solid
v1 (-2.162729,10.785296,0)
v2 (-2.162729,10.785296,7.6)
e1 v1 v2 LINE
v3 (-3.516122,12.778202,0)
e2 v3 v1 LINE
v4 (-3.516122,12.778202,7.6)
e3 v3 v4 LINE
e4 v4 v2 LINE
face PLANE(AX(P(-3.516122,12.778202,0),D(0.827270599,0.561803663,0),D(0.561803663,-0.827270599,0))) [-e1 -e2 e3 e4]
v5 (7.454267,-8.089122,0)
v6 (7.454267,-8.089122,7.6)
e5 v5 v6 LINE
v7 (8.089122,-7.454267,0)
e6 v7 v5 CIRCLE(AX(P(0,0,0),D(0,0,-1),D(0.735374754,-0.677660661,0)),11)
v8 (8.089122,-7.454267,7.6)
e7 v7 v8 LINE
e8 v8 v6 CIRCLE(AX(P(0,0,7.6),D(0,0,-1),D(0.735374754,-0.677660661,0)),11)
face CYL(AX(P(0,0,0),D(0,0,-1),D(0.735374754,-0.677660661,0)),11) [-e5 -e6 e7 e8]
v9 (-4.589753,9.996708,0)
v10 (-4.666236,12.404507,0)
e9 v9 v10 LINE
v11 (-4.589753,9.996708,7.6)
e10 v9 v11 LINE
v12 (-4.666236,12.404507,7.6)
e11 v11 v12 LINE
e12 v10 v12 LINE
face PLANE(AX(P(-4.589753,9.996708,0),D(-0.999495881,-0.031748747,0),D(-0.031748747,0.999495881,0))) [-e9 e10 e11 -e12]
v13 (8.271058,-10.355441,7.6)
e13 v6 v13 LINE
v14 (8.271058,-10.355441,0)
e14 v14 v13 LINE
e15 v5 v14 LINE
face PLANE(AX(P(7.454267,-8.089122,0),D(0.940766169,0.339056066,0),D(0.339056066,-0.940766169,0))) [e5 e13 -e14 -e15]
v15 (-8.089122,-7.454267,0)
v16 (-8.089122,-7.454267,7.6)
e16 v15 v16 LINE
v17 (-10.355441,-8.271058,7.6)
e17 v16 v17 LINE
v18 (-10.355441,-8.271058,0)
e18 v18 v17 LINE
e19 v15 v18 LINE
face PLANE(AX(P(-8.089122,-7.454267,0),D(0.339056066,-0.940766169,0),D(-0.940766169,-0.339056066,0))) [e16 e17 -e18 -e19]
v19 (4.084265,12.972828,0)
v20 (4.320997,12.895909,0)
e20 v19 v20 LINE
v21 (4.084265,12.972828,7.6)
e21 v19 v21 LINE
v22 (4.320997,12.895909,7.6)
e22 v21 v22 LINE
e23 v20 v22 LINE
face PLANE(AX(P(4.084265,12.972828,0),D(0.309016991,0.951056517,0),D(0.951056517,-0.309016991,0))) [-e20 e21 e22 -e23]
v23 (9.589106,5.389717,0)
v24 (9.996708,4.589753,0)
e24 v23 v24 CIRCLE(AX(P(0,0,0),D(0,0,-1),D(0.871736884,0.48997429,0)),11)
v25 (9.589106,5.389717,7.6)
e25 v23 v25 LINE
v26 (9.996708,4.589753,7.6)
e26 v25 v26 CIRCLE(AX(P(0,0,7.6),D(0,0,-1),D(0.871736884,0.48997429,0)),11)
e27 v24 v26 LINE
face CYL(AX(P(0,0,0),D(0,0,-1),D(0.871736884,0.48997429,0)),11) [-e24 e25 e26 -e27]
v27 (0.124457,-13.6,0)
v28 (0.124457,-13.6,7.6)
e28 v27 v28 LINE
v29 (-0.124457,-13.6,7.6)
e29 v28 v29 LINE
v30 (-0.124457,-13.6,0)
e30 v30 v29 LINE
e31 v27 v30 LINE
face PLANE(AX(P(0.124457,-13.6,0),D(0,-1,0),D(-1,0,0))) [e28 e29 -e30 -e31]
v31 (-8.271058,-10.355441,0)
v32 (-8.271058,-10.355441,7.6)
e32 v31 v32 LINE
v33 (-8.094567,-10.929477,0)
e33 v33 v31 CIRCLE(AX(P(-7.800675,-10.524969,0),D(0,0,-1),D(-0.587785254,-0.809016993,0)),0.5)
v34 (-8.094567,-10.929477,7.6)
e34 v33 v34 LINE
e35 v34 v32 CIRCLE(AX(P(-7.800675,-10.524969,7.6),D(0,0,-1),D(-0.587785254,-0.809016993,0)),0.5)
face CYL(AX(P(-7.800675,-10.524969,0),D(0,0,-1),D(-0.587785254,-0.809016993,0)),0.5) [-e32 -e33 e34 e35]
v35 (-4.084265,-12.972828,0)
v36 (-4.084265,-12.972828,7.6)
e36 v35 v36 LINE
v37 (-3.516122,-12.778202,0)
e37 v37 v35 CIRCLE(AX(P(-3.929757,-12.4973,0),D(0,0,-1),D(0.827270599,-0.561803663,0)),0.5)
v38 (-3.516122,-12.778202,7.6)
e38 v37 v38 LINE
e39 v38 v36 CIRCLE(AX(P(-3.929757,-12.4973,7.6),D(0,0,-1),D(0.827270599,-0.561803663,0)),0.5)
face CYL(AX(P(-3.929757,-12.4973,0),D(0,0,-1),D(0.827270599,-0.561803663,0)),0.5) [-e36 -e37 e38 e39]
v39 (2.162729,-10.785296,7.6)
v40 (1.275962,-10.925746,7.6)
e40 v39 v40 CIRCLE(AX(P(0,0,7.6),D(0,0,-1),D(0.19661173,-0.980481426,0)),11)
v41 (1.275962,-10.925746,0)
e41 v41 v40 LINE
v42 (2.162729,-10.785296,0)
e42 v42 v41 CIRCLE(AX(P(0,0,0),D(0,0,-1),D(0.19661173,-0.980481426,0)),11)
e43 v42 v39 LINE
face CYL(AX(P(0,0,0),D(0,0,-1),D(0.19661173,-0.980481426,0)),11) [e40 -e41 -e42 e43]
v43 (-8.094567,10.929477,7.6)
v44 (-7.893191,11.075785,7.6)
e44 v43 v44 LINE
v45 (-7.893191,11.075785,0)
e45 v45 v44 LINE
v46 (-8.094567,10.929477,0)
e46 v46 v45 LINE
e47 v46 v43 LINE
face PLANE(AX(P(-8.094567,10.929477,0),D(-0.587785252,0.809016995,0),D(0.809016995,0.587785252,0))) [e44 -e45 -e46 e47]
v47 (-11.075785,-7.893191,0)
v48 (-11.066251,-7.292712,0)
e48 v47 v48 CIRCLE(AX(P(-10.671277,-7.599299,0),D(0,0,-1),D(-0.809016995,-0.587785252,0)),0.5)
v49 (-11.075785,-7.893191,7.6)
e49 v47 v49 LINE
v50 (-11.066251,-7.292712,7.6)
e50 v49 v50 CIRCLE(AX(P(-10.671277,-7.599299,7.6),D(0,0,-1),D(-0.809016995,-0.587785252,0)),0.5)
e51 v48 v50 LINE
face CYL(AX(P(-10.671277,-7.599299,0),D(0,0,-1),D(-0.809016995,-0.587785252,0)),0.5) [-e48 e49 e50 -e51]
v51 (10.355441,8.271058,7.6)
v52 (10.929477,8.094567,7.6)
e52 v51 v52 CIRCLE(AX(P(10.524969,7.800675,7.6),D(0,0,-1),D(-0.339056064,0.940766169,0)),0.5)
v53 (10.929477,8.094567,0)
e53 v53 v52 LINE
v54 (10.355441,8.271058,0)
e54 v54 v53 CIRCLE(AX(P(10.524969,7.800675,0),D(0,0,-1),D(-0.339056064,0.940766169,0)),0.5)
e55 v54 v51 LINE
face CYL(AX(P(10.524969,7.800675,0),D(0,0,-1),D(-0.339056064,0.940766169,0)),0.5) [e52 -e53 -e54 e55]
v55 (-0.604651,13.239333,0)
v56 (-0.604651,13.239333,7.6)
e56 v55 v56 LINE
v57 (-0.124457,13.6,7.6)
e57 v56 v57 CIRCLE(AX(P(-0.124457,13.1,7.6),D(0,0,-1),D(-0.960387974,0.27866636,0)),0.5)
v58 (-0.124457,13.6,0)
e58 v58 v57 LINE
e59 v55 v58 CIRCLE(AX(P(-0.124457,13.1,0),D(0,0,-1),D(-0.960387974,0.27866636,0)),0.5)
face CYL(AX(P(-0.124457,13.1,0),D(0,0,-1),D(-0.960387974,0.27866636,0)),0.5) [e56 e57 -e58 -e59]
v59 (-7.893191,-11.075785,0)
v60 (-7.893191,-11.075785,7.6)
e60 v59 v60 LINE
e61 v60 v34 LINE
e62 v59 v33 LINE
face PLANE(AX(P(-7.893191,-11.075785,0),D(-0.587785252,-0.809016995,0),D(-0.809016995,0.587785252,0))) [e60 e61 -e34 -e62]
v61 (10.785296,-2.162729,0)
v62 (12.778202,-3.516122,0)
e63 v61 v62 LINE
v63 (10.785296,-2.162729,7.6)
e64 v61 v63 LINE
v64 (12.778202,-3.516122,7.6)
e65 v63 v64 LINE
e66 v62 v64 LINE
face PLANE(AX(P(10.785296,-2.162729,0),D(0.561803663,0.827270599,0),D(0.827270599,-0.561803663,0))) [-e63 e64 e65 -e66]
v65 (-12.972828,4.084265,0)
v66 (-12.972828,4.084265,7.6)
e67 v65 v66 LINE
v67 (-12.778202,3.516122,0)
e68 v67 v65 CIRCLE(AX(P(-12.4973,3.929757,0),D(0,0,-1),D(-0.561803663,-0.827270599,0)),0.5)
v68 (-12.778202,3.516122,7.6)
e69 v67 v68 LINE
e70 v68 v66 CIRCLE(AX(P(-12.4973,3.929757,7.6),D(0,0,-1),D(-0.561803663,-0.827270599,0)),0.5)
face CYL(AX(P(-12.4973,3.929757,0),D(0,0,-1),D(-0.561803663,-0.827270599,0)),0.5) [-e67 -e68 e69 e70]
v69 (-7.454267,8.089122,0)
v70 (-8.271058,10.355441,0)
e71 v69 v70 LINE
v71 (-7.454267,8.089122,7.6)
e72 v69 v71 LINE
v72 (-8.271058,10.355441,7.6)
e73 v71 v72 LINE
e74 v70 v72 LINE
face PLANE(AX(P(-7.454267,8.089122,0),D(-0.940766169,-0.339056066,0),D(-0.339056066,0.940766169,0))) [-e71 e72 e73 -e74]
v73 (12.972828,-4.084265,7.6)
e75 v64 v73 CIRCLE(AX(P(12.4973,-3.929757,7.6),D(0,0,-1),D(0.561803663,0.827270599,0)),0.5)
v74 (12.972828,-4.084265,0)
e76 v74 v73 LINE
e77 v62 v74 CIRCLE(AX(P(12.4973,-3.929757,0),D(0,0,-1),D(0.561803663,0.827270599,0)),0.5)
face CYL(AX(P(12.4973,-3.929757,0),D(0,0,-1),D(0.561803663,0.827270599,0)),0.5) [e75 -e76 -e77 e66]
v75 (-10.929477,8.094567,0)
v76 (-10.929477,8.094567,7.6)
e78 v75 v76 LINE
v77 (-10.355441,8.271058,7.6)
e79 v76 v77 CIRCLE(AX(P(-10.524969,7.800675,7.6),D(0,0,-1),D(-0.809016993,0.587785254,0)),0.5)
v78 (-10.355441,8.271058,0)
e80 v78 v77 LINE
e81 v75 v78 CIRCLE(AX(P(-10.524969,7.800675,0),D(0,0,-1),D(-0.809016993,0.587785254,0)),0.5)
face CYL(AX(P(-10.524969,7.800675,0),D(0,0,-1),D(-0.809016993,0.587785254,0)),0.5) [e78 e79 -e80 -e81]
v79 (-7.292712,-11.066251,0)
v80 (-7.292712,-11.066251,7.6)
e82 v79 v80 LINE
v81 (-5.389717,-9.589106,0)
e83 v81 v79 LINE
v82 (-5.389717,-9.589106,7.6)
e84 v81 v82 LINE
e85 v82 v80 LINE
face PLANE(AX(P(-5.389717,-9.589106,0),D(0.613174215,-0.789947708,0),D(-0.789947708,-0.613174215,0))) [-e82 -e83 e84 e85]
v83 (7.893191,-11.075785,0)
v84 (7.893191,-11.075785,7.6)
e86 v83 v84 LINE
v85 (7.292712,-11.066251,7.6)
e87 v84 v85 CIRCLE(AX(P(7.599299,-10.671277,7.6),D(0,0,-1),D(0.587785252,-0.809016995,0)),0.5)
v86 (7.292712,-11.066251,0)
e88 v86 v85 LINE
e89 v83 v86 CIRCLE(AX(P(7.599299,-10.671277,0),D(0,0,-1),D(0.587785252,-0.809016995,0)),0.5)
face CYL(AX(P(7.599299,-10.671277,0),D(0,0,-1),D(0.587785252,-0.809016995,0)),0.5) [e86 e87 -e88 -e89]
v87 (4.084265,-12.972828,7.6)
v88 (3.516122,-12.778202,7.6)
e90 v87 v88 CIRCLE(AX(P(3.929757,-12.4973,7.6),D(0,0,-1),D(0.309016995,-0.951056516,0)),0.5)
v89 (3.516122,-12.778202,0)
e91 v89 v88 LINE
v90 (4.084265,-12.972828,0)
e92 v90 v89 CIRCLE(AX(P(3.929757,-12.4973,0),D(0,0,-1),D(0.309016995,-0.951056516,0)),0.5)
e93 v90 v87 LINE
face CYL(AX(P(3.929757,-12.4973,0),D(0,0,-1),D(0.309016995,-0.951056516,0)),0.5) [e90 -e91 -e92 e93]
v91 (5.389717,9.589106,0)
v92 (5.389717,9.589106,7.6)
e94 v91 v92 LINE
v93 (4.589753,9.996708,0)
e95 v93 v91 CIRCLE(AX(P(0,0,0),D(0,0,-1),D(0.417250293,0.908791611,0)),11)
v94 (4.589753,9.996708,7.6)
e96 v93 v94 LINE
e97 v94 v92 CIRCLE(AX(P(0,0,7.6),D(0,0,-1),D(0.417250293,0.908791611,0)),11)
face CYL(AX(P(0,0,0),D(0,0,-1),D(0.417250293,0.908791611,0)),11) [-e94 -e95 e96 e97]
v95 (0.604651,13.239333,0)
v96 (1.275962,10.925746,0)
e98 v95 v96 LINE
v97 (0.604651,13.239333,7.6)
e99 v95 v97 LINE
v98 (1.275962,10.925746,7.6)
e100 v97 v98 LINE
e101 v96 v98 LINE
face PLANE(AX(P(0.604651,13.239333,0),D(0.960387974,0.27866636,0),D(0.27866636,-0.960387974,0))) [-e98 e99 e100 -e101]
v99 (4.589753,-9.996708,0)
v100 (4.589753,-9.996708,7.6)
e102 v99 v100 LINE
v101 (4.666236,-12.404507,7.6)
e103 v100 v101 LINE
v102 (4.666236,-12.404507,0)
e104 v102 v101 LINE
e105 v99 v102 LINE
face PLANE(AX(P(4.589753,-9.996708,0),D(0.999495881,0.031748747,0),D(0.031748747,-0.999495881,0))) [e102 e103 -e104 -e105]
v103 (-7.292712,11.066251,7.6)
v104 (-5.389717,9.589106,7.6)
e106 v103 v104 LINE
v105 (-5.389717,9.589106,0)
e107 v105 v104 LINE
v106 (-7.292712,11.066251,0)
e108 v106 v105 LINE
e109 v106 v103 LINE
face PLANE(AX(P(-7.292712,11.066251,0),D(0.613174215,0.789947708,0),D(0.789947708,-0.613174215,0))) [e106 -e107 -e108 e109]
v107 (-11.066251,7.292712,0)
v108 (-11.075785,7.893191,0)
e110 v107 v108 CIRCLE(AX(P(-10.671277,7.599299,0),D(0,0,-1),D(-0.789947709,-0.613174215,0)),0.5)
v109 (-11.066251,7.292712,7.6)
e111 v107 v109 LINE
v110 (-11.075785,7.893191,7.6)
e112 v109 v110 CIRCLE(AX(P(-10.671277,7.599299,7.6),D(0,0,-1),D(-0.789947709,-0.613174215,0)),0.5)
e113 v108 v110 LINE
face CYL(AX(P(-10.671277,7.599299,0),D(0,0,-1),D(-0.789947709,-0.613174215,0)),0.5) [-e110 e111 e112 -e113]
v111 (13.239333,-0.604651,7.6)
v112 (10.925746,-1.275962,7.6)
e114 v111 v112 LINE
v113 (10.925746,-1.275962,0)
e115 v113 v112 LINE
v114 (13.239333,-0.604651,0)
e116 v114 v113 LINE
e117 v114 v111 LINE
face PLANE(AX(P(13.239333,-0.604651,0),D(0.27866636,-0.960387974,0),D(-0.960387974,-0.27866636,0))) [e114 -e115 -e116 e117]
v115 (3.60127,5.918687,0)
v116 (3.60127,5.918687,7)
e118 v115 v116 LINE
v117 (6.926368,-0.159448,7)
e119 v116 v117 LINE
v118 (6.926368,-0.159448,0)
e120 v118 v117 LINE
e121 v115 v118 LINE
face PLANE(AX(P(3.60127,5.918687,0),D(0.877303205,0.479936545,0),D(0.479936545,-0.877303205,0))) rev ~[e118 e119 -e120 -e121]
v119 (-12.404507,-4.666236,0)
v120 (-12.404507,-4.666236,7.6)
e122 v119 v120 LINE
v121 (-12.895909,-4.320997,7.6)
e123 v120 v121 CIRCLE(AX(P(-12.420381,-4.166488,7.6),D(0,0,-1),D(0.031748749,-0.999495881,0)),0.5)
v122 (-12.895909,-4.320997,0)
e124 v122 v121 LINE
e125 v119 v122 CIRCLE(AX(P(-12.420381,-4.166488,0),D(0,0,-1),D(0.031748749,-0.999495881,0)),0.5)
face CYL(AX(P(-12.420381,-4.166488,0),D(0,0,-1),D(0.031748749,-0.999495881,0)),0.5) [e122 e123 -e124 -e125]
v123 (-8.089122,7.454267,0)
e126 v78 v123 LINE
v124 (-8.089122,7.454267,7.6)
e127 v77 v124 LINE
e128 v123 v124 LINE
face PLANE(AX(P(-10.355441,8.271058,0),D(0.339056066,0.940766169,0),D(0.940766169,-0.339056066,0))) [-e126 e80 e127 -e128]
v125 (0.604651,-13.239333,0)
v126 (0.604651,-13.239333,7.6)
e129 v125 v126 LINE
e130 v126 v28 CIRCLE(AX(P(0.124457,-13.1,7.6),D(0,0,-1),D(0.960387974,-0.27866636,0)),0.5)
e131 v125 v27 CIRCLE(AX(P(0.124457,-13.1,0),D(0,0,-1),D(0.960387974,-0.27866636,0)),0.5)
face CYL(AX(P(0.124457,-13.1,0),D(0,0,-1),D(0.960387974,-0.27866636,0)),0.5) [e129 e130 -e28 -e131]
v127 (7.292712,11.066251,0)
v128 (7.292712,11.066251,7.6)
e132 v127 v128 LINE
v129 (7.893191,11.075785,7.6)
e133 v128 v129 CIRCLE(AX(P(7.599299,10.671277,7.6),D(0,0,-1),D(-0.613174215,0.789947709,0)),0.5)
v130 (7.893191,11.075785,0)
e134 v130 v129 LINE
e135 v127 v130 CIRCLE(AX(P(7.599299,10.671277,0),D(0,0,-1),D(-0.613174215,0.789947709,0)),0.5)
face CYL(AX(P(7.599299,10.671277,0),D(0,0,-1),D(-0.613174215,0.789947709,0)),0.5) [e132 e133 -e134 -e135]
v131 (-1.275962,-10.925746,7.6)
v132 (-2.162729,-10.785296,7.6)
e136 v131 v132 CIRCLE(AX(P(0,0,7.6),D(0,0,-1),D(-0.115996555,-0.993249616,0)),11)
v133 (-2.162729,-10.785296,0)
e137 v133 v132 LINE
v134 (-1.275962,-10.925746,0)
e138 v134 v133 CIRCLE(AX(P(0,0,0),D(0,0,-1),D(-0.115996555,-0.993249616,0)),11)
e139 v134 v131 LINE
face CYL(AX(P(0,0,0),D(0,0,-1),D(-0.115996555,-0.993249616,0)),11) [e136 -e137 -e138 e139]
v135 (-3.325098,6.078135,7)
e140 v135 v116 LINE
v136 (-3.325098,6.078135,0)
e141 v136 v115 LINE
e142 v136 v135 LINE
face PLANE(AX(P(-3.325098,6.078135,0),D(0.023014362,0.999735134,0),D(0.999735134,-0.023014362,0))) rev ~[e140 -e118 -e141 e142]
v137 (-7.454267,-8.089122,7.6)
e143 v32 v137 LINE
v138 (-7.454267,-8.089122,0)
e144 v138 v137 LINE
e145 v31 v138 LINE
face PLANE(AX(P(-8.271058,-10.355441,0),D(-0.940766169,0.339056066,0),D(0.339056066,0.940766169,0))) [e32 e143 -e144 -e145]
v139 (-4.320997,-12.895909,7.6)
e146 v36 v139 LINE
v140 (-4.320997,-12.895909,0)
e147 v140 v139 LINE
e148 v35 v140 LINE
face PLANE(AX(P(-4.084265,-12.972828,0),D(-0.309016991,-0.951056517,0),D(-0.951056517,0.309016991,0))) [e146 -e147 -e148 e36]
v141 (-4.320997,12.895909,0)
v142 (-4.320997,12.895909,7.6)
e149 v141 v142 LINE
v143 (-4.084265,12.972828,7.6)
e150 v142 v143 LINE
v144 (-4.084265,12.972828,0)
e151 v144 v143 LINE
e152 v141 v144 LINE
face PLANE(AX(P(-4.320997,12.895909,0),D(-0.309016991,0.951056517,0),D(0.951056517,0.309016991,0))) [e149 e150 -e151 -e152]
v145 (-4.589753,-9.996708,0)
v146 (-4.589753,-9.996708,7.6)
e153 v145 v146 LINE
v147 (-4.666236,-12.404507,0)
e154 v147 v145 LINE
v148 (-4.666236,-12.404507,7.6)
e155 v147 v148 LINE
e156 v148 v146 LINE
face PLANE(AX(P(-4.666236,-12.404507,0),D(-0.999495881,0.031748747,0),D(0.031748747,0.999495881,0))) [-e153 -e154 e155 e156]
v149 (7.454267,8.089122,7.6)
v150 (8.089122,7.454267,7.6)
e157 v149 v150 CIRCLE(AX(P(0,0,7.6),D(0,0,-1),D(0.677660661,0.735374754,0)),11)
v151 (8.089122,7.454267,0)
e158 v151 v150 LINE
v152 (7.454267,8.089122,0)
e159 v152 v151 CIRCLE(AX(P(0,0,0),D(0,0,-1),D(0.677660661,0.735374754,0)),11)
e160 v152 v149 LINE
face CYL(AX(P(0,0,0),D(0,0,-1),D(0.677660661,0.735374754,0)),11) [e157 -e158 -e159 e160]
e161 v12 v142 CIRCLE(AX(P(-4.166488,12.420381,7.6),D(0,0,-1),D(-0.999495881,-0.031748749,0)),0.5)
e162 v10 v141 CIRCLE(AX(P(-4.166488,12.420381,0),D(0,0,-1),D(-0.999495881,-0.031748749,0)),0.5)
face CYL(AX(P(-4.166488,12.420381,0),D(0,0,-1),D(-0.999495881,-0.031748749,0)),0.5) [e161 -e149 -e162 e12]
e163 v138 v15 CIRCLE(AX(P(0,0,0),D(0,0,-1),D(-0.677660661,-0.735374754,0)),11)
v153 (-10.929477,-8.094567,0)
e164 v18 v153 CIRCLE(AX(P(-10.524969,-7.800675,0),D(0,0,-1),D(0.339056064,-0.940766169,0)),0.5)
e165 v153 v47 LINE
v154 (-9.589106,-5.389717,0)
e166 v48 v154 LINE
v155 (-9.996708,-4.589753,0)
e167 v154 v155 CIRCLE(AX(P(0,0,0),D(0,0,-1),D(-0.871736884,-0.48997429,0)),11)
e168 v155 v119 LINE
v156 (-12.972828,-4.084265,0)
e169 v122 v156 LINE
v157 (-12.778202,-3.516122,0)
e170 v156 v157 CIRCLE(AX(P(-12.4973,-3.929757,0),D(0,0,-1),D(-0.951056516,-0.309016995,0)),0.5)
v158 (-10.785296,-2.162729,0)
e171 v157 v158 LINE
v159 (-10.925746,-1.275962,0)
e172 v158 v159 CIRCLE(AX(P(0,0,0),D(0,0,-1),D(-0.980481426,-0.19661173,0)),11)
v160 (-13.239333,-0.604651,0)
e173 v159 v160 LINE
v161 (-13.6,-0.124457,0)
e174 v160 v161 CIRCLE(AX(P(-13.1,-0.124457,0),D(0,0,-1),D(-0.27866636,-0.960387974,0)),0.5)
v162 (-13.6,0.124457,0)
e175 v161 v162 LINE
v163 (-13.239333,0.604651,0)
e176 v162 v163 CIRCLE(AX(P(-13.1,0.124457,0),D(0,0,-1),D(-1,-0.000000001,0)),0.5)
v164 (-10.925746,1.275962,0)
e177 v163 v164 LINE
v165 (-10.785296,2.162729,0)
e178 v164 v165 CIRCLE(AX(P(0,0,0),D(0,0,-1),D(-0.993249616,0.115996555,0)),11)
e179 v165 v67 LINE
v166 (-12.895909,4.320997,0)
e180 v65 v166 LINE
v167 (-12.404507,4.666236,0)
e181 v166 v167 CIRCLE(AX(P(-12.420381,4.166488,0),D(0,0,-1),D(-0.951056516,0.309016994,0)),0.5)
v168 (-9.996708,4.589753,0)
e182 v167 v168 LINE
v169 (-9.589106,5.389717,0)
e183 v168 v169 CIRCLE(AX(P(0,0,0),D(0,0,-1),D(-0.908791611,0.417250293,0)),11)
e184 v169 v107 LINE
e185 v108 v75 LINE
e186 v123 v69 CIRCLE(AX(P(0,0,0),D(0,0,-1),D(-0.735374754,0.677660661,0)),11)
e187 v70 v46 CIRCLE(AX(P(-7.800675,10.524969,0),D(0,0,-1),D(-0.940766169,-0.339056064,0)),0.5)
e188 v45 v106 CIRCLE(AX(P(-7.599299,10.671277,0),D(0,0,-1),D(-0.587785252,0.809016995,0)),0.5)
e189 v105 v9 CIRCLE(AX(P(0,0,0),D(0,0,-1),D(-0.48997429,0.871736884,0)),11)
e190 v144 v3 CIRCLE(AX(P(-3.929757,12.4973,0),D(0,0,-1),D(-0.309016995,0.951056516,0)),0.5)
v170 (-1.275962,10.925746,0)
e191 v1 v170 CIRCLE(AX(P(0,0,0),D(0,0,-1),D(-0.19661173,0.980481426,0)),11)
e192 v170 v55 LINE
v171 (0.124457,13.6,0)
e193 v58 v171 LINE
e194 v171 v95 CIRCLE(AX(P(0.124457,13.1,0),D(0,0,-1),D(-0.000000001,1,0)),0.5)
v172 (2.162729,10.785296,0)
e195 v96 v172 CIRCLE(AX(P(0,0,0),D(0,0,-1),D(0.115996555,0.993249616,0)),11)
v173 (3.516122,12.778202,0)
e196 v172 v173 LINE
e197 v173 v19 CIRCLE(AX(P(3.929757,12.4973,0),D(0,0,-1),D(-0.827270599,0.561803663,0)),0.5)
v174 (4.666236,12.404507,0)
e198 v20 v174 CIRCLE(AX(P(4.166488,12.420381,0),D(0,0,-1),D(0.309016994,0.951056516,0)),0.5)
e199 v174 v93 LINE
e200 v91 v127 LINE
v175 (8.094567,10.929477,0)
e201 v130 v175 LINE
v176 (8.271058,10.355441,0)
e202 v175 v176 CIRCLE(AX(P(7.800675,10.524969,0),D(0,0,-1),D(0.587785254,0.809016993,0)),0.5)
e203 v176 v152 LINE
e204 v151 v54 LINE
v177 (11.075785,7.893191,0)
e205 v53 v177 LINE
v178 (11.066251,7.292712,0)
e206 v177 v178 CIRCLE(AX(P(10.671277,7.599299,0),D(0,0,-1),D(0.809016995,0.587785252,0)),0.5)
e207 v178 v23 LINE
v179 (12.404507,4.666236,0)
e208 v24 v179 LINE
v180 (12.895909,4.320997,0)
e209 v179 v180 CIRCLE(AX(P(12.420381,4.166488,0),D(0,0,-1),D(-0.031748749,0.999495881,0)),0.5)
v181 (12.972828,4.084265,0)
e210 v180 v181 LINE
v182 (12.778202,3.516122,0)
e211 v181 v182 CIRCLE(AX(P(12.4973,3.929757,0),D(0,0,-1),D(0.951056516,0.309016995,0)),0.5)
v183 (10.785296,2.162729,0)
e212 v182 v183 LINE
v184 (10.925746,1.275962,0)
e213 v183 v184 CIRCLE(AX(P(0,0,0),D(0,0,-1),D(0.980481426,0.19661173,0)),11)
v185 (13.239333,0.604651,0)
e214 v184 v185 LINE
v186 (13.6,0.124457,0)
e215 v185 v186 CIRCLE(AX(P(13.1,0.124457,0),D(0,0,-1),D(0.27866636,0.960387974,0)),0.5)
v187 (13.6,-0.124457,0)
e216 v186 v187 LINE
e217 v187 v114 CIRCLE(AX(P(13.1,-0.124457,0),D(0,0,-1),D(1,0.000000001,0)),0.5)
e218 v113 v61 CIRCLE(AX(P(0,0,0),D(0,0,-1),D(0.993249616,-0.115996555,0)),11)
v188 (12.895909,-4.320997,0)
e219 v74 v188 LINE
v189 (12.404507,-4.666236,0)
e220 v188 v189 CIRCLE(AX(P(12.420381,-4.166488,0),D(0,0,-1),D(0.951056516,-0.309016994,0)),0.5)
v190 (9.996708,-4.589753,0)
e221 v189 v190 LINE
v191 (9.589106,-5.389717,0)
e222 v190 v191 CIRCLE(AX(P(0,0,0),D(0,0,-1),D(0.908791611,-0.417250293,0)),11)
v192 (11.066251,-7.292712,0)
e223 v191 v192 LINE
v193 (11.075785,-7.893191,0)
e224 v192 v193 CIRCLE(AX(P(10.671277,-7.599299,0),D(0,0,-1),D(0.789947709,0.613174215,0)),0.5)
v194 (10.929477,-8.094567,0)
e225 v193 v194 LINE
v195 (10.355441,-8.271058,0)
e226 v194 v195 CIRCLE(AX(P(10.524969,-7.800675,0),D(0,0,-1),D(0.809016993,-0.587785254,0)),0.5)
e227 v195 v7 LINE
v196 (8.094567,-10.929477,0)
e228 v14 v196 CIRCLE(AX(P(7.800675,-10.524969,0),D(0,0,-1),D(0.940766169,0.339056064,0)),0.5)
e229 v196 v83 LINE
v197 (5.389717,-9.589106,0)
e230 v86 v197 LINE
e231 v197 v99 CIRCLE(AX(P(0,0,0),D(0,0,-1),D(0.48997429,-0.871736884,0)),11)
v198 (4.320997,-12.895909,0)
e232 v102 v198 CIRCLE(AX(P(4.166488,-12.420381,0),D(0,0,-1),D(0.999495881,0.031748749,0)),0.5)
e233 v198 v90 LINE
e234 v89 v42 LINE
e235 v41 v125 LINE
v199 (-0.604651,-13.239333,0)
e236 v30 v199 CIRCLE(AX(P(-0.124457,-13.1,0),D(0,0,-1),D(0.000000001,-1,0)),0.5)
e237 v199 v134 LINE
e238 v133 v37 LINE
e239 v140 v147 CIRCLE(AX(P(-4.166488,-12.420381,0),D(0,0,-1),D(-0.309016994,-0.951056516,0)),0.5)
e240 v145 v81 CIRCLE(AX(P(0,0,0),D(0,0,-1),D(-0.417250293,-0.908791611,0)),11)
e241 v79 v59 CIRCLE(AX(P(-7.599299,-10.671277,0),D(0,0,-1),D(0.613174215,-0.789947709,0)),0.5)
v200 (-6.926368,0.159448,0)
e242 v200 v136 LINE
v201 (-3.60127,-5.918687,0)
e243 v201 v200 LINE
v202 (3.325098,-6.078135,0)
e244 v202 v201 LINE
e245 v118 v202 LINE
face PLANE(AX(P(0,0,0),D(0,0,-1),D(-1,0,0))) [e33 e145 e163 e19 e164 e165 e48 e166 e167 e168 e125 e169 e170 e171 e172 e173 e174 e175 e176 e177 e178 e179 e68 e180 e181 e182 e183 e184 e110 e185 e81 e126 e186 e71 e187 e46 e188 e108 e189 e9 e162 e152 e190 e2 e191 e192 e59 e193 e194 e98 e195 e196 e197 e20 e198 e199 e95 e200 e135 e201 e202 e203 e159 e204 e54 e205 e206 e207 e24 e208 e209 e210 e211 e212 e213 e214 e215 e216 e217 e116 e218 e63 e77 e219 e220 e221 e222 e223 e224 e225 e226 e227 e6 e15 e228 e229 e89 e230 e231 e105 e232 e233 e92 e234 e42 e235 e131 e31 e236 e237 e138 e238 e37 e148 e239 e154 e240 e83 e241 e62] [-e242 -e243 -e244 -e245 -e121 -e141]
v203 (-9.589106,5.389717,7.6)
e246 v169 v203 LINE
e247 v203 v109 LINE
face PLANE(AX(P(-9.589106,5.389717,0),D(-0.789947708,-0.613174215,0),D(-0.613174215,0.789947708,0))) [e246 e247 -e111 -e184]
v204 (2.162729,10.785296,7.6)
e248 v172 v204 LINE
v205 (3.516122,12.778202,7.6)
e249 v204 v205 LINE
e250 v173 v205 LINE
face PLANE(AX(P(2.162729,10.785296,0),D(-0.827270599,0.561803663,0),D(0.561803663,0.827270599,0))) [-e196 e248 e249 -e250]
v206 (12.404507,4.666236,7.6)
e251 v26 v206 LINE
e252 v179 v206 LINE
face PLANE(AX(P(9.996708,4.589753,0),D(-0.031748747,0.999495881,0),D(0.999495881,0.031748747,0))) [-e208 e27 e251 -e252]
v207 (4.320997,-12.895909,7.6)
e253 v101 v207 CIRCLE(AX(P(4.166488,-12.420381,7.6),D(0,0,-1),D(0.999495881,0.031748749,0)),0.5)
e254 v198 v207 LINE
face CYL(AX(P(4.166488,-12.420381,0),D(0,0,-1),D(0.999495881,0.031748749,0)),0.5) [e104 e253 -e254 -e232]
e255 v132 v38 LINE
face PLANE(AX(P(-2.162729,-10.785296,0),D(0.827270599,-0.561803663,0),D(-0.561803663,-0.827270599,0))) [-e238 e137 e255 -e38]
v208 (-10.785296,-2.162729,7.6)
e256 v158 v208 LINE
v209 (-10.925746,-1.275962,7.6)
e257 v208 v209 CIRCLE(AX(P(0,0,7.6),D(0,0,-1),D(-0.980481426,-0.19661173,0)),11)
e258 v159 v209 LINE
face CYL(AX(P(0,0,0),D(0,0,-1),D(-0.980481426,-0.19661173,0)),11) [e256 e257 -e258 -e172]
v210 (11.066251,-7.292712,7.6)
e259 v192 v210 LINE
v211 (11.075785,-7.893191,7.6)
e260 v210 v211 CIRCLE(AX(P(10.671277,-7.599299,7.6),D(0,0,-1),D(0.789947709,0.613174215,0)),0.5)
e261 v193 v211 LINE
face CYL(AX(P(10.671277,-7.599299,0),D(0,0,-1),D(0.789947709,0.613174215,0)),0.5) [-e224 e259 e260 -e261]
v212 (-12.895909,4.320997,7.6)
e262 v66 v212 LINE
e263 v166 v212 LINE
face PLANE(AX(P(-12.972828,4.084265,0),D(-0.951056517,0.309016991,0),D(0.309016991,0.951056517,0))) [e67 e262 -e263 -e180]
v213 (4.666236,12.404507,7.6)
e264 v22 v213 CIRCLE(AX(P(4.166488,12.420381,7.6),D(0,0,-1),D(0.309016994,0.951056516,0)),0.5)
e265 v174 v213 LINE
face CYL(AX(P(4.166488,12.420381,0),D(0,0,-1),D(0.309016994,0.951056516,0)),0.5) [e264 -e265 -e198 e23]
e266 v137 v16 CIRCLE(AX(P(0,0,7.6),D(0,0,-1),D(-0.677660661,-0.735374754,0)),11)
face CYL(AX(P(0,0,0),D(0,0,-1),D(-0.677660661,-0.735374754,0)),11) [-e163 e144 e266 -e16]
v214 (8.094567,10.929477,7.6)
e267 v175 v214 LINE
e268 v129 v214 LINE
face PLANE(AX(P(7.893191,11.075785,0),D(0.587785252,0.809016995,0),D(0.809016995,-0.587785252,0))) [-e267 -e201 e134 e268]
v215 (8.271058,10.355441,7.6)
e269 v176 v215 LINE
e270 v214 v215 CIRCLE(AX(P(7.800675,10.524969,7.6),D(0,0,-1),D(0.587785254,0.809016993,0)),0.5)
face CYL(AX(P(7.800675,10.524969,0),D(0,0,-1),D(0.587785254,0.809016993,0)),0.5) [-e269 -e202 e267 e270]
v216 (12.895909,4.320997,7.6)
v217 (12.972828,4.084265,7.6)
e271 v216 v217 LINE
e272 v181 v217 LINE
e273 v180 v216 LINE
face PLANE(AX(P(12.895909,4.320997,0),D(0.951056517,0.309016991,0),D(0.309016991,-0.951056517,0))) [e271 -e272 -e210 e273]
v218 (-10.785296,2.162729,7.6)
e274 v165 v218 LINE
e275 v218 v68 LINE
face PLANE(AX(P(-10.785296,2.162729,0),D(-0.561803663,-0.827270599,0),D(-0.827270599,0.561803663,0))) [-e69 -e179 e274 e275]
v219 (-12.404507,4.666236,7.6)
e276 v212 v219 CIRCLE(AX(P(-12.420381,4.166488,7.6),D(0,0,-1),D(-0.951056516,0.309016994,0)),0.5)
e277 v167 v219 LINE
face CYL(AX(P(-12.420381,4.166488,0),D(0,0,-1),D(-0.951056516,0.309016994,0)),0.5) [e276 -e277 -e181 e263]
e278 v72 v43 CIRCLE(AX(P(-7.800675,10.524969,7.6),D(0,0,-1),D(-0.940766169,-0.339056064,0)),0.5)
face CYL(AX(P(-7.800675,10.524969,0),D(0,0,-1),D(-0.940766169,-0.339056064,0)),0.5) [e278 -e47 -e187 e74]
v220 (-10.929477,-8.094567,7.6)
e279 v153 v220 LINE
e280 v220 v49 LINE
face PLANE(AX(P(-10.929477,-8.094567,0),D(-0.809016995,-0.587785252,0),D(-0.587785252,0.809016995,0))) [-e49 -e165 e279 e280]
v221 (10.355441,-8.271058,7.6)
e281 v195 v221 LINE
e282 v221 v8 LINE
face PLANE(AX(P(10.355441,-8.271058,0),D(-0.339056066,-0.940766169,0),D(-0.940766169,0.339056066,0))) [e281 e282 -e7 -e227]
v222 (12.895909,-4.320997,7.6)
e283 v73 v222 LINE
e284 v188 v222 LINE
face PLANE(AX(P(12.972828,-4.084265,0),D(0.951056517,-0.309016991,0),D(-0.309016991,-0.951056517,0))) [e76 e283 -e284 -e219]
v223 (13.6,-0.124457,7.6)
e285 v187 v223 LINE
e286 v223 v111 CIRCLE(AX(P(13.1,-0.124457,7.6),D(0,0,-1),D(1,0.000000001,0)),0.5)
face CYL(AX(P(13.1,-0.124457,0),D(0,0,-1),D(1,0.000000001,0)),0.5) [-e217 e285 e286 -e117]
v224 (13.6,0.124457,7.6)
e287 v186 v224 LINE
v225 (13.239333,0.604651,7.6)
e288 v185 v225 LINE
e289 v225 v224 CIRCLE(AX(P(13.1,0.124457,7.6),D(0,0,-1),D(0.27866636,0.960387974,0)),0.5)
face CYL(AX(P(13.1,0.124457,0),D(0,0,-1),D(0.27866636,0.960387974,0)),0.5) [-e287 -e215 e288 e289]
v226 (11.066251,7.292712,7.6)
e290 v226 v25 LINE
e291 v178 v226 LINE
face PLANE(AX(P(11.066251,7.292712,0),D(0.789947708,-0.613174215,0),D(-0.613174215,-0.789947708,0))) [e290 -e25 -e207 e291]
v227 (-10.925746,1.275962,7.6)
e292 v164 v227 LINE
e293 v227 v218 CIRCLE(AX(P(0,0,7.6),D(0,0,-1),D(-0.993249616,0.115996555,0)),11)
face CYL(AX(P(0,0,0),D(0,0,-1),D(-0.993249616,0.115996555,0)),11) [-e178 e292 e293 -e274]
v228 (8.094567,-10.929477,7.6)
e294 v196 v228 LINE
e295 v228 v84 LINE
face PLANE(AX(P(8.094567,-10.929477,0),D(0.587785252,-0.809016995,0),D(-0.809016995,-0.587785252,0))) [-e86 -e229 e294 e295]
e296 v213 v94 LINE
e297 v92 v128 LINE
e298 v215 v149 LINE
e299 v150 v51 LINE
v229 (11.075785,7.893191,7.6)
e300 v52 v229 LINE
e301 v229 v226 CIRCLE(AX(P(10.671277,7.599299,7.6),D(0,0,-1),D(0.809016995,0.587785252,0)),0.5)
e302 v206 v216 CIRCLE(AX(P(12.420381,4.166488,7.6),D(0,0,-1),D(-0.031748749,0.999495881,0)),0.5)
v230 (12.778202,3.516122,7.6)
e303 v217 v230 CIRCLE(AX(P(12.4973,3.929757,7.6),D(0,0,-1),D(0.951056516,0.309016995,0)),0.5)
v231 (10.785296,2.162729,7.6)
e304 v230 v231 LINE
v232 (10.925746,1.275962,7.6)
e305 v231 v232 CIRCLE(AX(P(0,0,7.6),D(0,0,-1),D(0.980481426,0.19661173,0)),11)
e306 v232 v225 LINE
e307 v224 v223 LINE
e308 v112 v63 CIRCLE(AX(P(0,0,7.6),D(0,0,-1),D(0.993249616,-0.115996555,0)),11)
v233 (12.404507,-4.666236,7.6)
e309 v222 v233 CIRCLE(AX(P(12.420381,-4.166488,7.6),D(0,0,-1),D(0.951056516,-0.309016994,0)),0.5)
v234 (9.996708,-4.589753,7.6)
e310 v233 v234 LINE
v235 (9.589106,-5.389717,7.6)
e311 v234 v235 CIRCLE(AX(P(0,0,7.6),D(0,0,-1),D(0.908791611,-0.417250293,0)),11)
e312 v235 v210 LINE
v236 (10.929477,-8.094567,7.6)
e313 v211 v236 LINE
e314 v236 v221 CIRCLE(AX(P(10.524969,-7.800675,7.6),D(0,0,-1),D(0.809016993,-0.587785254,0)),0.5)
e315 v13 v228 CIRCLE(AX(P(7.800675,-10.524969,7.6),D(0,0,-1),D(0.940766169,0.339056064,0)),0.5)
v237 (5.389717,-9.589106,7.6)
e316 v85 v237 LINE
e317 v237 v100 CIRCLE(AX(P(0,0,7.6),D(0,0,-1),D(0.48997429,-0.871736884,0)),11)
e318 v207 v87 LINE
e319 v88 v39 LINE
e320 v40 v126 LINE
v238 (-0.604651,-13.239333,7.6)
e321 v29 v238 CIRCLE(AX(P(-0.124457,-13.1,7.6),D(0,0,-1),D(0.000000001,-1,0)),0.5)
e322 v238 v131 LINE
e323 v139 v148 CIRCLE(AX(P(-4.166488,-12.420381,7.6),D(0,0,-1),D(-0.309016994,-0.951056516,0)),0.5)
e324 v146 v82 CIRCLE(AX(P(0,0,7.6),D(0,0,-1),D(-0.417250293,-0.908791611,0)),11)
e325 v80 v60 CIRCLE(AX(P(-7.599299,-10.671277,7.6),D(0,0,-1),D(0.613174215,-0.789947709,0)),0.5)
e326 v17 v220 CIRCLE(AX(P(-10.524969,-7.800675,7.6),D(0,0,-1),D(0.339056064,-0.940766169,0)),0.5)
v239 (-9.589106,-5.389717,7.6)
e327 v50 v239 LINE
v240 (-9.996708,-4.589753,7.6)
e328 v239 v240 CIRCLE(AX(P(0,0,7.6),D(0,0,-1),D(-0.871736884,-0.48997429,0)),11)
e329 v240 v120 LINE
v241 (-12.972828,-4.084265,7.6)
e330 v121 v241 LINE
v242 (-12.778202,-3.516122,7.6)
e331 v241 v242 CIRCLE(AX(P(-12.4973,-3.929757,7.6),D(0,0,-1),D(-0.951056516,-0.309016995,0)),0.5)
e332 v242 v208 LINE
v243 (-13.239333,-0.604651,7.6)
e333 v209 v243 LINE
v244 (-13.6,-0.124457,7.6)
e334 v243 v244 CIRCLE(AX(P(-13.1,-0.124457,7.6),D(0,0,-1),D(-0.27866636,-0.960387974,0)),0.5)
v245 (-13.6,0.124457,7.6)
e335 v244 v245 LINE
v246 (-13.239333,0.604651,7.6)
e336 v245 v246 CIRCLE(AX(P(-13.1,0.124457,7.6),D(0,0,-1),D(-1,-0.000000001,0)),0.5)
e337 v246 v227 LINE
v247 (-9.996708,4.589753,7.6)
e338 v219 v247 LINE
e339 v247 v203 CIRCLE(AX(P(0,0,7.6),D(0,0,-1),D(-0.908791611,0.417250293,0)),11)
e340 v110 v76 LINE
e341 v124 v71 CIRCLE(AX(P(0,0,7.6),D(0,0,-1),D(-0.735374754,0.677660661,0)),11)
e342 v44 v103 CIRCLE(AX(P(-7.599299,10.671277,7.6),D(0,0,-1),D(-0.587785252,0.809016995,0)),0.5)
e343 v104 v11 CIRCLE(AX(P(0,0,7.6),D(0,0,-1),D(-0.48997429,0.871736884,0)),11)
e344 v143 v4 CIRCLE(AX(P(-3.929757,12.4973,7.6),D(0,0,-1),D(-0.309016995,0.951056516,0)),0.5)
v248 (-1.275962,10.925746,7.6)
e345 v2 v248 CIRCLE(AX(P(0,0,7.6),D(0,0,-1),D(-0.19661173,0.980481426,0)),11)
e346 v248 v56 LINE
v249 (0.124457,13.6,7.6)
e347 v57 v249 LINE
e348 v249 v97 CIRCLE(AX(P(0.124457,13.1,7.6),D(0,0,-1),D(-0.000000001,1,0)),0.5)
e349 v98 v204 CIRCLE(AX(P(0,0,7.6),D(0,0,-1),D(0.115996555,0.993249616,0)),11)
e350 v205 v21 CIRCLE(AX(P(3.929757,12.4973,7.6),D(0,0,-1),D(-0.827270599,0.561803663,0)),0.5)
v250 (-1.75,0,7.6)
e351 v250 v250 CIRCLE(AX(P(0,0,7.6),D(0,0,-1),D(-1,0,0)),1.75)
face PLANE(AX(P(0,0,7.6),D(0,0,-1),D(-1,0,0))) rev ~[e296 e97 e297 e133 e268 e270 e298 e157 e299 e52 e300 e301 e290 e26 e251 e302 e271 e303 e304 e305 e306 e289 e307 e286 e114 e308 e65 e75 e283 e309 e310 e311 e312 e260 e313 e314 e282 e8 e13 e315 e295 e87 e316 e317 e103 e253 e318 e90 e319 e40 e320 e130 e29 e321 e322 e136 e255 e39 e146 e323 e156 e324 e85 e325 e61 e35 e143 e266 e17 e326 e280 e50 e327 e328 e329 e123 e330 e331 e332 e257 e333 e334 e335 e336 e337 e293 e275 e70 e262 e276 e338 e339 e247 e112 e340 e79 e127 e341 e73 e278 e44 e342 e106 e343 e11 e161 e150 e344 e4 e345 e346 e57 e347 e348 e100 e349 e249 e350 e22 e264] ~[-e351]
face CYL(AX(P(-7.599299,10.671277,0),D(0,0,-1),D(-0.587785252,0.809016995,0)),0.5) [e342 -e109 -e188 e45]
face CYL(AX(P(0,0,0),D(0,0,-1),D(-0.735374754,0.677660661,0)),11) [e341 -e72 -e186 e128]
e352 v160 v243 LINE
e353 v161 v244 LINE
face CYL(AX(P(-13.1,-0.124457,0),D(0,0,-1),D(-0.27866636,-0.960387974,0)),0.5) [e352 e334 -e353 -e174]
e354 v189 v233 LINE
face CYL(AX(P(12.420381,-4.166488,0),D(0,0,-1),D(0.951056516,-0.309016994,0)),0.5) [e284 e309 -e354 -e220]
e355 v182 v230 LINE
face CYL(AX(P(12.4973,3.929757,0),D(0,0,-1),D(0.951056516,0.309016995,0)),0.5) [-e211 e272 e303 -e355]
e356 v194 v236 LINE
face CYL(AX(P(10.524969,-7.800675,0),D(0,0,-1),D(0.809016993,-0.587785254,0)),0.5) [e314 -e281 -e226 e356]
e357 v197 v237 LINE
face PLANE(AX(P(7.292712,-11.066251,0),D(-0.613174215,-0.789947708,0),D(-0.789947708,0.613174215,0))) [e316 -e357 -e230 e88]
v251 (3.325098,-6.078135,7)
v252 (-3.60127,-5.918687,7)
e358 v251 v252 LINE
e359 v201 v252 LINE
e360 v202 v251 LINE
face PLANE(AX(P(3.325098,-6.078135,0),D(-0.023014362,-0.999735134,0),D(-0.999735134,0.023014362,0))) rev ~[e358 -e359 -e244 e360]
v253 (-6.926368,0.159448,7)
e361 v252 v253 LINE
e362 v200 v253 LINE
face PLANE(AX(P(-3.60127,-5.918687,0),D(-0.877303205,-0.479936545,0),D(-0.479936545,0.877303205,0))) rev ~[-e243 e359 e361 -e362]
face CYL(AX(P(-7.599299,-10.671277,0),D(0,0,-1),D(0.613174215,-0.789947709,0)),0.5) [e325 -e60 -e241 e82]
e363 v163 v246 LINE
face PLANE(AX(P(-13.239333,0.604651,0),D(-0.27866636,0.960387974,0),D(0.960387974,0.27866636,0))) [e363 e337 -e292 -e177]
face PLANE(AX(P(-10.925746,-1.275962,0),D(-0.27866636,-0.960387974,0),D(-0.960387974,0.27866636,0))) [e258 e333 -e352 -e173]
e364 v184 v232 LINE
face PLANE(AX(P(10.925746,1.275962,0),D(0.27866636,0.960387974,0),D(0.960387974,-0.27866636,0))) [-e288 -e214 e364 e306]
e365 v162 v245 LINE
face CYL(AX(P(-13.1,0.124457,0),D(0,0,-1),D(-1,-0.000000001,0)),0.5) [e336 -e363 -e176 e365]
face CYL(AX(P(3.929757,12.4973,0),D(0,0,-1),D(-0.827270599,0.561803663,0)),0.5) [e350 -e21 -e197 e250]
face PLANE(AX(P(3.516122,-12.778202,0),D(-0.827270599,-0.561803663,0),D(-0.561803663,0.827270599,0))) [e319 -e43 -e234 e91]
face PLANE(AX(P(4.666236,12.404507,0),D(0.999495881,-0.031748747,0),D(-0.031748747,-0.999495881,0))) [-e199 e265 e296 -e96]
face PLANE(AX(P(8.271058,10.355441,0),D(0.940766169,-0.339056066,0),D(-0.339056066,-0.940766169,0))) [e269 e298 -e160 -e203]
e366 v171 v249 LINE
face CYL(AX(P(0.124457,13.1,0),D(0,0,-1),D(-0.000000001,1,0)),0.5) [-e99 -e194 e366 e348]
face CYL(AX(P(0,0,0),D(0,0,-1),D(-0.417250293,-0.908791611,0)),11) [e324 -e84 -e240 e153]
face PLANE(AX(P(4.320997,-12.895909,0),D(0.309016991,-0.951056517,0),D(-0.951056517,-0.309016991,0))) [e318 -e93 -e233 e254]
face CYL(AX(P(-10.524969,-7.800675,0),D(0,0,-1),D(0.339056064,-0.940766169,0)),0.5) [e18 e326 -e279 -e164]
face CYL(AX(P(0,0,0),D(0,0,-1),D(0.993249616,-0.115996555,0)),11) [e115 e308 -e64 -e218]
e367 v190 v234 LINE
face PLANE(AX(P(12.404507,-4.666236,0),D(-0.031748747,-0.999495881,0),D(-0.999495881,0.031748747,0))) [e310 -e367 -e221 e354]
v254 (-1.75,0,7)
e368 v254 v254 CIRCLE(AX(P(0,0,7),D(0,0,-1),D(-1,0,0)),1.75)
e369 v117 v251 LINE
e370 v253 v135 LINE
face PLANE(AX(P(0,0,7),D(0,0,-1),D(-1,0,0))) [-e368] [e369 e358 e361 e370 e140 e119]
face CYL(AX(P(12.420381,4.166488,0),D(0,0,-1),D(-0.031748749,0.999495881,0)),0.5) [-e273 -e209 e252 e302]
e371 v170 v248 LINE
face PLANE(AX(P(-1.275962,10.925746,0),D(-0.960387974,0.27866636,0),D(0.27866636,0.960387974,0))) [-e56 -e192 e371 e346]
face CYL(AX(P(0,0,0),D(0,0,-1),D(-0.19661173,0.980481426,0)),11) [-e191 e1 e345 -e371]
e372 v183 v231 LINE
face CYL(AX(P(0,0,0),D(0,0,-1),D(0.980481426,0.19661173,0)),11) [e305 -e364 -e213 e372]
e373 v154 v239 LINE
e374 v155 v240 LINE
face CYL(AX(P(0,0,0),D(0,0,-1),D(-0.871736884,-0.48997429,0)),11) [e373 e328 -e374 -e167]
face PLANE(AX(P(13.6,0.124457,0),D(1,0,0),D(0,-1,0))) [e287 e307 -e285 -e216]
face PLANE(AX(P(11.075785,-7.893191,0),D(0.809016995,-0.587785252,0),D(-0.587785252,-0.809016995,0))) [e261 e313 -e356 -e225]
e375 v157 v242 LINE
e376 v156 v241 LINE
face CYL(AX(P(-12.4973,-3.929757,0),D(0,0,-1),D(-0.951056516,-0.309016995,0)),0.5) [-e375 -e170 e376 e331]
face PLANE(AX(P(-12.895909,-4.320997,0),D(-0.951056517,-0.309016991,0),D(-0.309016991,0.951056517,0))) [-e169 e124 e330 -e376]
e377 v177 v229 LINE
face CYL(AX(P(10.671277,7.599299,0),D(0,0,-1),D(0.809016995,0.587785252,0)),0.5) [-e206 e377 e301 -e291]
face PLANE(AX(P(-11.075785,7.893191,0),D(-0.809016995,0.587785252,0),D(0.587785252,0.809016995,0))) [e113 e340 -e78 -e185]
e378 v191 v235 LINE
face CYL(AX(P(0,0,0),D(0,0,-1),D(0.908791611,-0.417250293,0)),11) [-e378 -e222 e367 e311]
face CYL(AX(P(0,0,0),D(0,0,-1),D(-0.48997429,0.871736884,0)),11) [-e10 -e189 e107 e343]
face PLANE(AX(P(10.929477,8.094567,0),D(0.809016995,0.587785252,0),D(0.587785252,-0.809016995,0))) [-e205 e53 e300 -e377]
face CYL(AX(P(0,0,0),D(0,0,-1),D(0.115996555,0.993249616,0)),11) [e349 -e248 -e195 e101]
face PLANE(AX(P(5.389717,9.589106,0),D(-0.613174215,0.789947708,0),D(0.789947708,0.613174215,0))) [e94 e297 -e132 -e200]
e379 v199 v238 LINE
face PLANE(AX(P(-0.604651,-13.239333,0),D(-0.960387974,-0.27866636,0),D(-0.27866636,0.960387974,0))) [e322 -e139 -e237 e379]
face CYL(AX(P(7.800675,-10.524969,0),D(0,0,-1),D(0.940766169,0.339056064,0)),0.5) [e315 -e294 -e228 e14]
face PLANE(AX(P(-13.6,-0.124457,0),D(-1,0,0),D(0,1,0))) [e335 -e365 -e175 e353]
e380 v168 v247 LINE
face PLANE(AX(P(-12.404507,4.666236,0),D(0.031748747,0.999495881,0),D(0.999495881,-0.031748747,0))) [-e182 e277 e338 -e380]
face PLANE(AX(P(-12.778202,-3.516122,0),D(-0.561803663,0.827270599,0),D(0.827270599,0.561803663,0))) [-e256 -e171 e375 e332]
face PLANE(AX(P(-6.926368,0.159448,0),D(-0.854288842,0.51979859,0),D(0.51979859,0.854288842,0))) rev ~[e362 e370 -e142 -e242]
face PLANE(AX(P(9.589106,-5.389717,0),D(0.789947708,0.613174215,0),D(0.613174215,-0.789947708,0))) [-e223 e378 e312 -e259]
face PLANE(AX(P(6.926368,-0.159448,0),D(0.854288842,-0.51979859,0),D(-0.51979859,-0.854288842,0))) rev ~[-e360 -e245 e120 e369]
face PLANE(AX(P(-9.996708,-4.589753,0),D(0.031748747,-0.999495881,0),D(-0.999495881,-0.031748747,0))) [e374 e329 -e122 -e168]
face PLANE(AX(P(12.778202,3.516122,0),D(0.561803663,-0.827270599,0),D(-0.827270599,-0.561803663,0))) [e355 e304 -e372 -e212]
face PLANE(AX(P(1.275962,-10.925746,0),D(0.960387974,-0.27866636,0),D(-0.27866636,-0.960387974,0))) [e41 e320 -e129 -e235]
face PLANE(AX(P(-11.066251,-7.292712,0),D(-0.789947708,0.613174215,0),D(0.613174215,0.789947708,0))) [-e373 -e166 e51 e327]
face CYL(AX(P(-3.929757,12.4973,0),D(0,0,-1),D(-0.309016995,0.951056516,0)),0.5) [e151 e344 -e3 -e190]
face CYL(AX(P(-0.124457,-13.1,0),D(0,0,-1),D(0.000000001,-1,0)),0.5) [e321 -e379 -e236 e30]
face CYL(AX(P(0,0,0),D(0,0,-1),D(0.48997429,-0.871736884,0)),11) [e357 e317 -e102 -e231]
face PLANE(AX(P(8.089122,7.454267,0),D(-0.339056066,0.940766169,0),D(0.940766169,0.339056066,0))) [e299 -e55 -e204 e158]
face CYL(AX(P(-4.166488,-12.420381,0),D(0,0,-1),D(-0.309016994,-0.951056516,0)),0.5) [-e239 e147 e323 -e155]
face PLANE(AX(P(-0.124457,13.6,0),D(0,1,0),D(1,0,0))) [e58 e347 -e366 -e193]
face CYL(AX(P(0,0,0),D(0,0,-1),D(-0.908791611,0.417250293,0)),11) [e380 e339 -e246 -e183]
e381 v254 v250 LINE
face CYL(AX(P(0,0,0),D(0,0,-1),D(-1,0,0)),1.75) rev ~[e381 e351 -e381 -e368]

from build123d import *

# Parameters (mm, degrees)
BOSS_EXTRUDE1_DEPTH = 7.6
SKETCH4_R           = 1.75
CUT_EXTRUDE1_DEPTH  = 7
SKETCH5_R           = 1.75
CUT_EXTRUDE2_DEPTH  = 21.680425528


with BuildPart() as part:
    # Sketch1 → Boss-Extrude1 (new body)
    with BuildSketch(Plane.XY):
        with BuildLine():
            Line((-0.124457167, 13.6), (0.124457167, 13.6))
            ThreePointArc((0.124457167, 13.6), (0.424734881, 13.499791564), (0.604651154, 13.23933318))
            Line((0.604651154, 13.23933318), (1.275962124, 10.925745771))
            ThreePointArc((1.275962124, 10.925745771), (1.720779115, 10.864571747), (2.162729027, 10.785295692))
            Line((2.162729027, 10.785295692), (3.516121527, 12.778201575))
            ThreePointArc((3.516121527, 12.778201575), (3.767718138, 12.970315032), (4.084265323, 12.972828001))
            Line((4.084265323, 12.972828001), (4.320996924, 12.895909242))
            ThreePointArc((4.320996924, 12.895909242), (4.57561189, 12.70781444), (4.666236367, 12.40450661))
            Line((4.666236367, 12.40450661), (4.589753212, 9.996707731))
            ThreePointArc((4.589753212, 9.996707731), (4.993895497, 9.801071766), (5.389717192, 9.589105724))
            Line((5.389717192, 9.589105724), (7.292711734, 11.066250568))
            ThreePointArc((7.292711734, 11.066250568), (7.591360654, 11.171213695), (7.893191468, 11.075785211))
            Line((7.893191468, 11.075785211), (8.094567395, 10.929477036))
            ThreePointArc((8.094567395, 10.929477036), (8.278596127, 10.671907897), (8.271057853, 10.355440506))
            Line((8.271057853, 10.355440506), (7.454267277, 8.089122286))
            ThreePointArc((7.454267277, 8.089122286), (7.778174593, 7.778174593), (8.089122286, 7.454267277))
            Line((8.089122286, 7.454267277), (10.355440506, 8.271057853))
            ThreePointArc((10.355440506, 8.271057853), (10.671907897, 8.278596127), (10.929477036, 8.094567395))
            Line((10.929477036, 8.094567395), (11.075785211, 7.893191468))
            ThreePointArc((11.075785211, 7.893191468), (11.171213695, 7.591360654), (11.066250568, 7.292711734))
            Line((11.066250568, 7.292711734), (9.589105724, 5.389717192))
            ThreePointArc((9.589105724, 5.389717192), (9.801071766, 4.993895497), (9.996707731, 4.589753212))
            Line((9.996707731, 4.589753212), (12.40450661, 4.666236367))
            ThreePointArc((12.40450661, 4.666236367), (12.70781444, 4.57561189), (12.895909242, 4.320996924))
            Line((12.895909242, 4.320996924), (12.972828001, 4.084265323))
            ThreePointArc((12.972828001, 4.084265323), (12.970315032, 3.767718138), (12.778201575, 3.516121527))
            Line((12.778201575, 3.516121527), (10.785295692, 2.162729027))
            ThreePointArc((10.785295692, 2.162729027), (10.864571747, 1.720779115), (10.925745771, 1.275962124))
            Line((10.925745771, 1.275962124), (13.23933318, 0.604651154))
            ThreePointArc((13.23933318, 0.604651154), (13.499791564, 0.424734881), (13.6, 0.124457167))
            Line((13.6, 0.124457167), (13.6, -0.124457167))
            ThreePointArc((13.6, -0.124457167), (13.499791564, -0.424734881), (13.23933318, -0.604651154))
            Line((13.23933318, -0.604651154), (10.925745771, -1.275962124))
            ThreePointArc((10.925745771, -1.275962124), (10.864571747, -1.720779115), (10.785295692, -2.162729027))
            Line((10.785295692, -2.162729027), (12.778201575, -3.516121527))
            ThreePointArc((12.778201575, -3.516121527), (12.970315032, -3.767718138), (12.972828001, -4.084265323))
            Line((12.972828001, -4.084265323), (12.895909242, -4.320996924))
            ThreePointArc((12.895909242, -4.320996924), (12.70781444, -4.57561189), (12.40450661, -4.666236367))
            Line((12.40450661, -4.666236367), (9.996707731, -4.589753212))
            ThreePointArc((9.996707731, -4.589753212), (9.801071766, -4.993895497), (9.589105724, -5.389717192))
            Line((9.589105724, -5.389717192), (11.066250568, -7.292711734))
            ThreePointArc((11.066250568, -7.292711734), (11.171213695, -7.591360654), (11.075785211, -7.893191468))
            Line((11.075785211, -7.893191468), (10.929477036, -8.094567395))
            ThreePointArc((10.929477036, -8.094567395), (10.671907897, -8.278596127), (10.355440506, -8.271057853))
            Line((10.355440506, -8.271057853), (8.089122286, -7.454267277))
            ThreePointArc((8.089122286, -7.454267277), (7.778174593, -7.778174593), (7.454267277, -8.089122286))
            Line((7.454267277, -8.089122286), (8.271057853, -10.355440506))
            ThreePointArc((8.271057853, -10.355440506), (8.278596127, -10.671907897), (8.094567395, -10.929477036))
            Line((8.094567395, -10.929477036), (7.893191468, -11.075785211))
            ThreePointArc((7.893191468, -11.075785211), (7.591360654, -11.171213695), (7.292711734, -11.066250568))
            Line((7.292711734, -11.066250568), (5.389717192, -9.589105724))
            ThreePointArc((5.389717192, -9.589105724), (4.993895497, -9.801071766), (4.589753212, -9.996707731))
            Line((4.589753212, -9.996707731), (4.666236367, -12.40450661))
            ThreePointArc((4.666236367, -12.40450661), (4.57561189, -12.70781444), (4.320996924, -12.895909242))
            Line((4.320996924, -12.895909242), (4.084265323, -12.972828001))
            ThreePointArc((4.084265323, -12.972828001), (3.767718138, -12.970315032), (3.516121527, -12.778201575))
            Line((3.516121527, -12.778201575), (2.162729027, -10.785295692))
            ThreePointArc((2.162729027, -10.785295692), (1.720779115, -10.864571747), (1.275962124, -10.925745771))
            Line((1.275962124, -10.925745771), (0.604651154, -13.23933318))
            ThreePointArc((0.604651154, -13.23933318), (0.424734881, -13.499791564), (0.124457167, -13.6))
            Line((0.124457167, -13.6), (-0.124457167, -13.6))
            ThreePointArc((-0.124457167, -13.6), (-0.424734881, -13.499791564), (-0.604651154, -13.23933318))
            Line((-0.604651154, -13.23933318), (-1.275962124, -10.925745771))
            ThreePointArc((-1.275962124, -10.925745771), (-1.720779115, -10.864571747), (-2.162729027, -10.785295692))
            Line((-2.162729027, -10.785295692), (-3.516121527, -12.778201575))
            ThreePointArc((-3.516121527, -12.778201575), (-3.767718138, -12.970315032), (-4.084265323, -12.972828001))
            Line((-4.084265323, -12.972828001), (-4.320996924, -12.895909242))
            ThreePointArc((-4.320996924, -12.895909242), (-4.57561189, -12.70781444), (-4.666236367, -12.40450661))
            Line((-4.666236367, -12.40450661), (-4.589753212, -9.996707731))
            ThreePointArc((-4.589753212, -9.996707731), (-4.993895497, -9.801071766), (-5.389717192, -9.589105724))
            Line((-5.389717192, -9.589105724), (-7.292711734, -11.066250568))
            ThreePointArc((-7.292711734, -11.066250568), (-7.591360654, -11.171213695), (-7.893191468, -11.075785211))
            Line((-7.893191468, -11.075785211), (-8.094567395, -10.929477036))
            ThreePointArc((-8.094567395, -10.929477036), (-8.278596127, -10.671907897), (-8.271057853, -10.355440506))
            Line((-8.271057853, -10.355440506), (-7.454267277, -8.089122286))
            ThreePointArc((-7.454267277, -8.089122286), (-7.778174593, -7.778174593), (-8.089122286, -7.454267277))
            Line((-8.089122286, -7.454267277), (-10.355440506, -8.271057853))
            ThreePointArc((-10.355440506, -8.271057853), (-10.671907897, -8.278596127), (-10.929477036, -8.094567395))
            Line((-10.929477036, -8.094567395), (-11.075785211, -7.893191468))
            ThreePointArc((-11.075785211, -7.893191468), (-11.171213695, -7.591360654), (-11.066250568, -7.292711734))
            Line((-11.066250568, -7.292711734), (-9.589105724, -5.389717192))
            ThreePointArc((-9.589105724, -5.389717192), (-9.801071766, -4.993895497), (-9.996707731, -4.589753212))
            Line((-9.996707731, -4.589753212), (-12.40450661, -4.666236367))
            ThreePointArc((-12.40450661, -4.666236367), (-12.70781444, -4.57561189), (-12.895909242, -4.320996924))
            Line((-12.895909242, -4.320996924), (-12.972828001, -4.084265323))
            ThreePointArc((-12.972828001, -4.084265323), (-12.970315032, -3.767718138), (-12.778201575, -3.516121527))
            Line((-12.778201575, -3.516121527), (-10.785295692, -2.162729027))
            ThreePointArc((-10.785295692, -2.162729027), (-10.864571747, -1.720779115), (-10.925745771, -1.275962124))
            Line((-10.925745771, -1.275962124), (-13.23933318, -0.604651154))
            ThreePointArc((-13.23933318, -0.604651154), (-13.499791564, -0.424734881), (-13.6, -0.124457167))
            Line((-13.6, -0.124457167), (-13.6, 0.124457167))
            ThreePointArc((-13.6, 0.124457167), (-13.499791564, 0.424734881), (-13.23933318, 0.604651154))
            Line((-13.23933318, 0.604651154), (-10.925745771, 1.275962124))
            ThreePointArc((-10.925745771, 1.275962124), (-10.864571747, 1.720779115), (-10.785295692, 2.162729027))
            Line((-10.785295692, 2.162729027), (-12.778201575, 3.516121527))
            ThreePointArc((-12.778201575, 3.516121527), (-12.970315032, 3.767718138), (-12.972828001, 4.084265323))
            Line((-12.972828001, 4.084265323), (-12.895909242, 4.320996924))
            ThreePointArc((-12.895909242, 4.320996924), (-12.70781444, 4.57561189), (-12.40450661, 4.666236367))
            Line((-12.40450661, 4.666236367), (-9.996707731, 4.589753212))
            ThreePointArc((-9.996707731, 4.589753212), (-9.801071766, 4.993895497), (-9.589105724, 5.389717192))
            Line((-9.589105724, 5.389717192), (-11.066250568, 7.292711734))
            ThreePointArc((-11.066250568, 7.292711734), (-11.171213695, 7.591360654), (-11.075785211, 7.893191468))
            Line((-11.075785211, 7.893191468), (-10.929477036, 8.094567395))
            ThreePointArc((-10.929477036, 8.094567395), (-10.671907897, 8.278596127), (-10.355440506, 8.271057853))
            Line((-10.355440506, 8.271057853), (-8.089122286, 7.454267277))
            ThreePointArc((-8.089122286, 7.454267277), (-7.778174593, 7.778174593), (-7.454267277, 8.089122286))
            Line((-7.454267277, 8.089122286), (-8.271057853, 10.355440506))
            ThreePointArc((-8.271057853, 10.355440506), (-8.278596127, 10.671907897), (-8.094567395, 10.929477036))
            Line((-8.094567395, 10.929477036), (-7.893191468, 11.075785211))
            ThreePointArc((-7.893191468, 11.075785211), (-7.591360654, 11.171213695), (-7.292711734, 11.066250568))
            Line((-7.292711734, 11.066250568), (-5.389717192, 9.589105724))
            ThreePointArc((-5.389717192, 9.589105724), (-4.993895497, 9.801071766), (-4.589753212, 9.996707731))
            Line((-4.589753212, 9.996707731), (-4.666236367, 12.40450661))
            ThreePointArc((-4.666236367, 12.40450661), (-4.57561189, 12.70781444), (-4.320996924, 12.895909242))
            Line((-4.320996924, 12.895909242), (-4.084265323, 12.972828001))
            ThreePointArc((-4.084265323, 12.972828001), (-3.767718138, 12.970315032), (-3.516121527, 12.778201575))
            Line((-3.516121527, 12.778201575), (-2.162729027, 10.785295692))
            ThreePointArc((-2.162729027, 10.785295692), (-1.720779115, 10.864571747), (-1.275962124, 10.925745771))
            Line((-1.275962124, 10.925745771), (-0.604651154, 13.23933318))
            ThreePointArc((-0.604651154, 13.23933318), (-0.424734881, 13.499791564), (-0.124457167, 13.6))
        make_face()
    extrude(amount=BOSS_EXTRUDE1_DEPTH)

    # Sketch4 → Cut-Extrude1 (cut)
    with BuildSketch(Plane(origin=(0, 0, 0), x_dir=(-1, 0, 0), z_dir=(0, 0, -1))):
        Polygon((-6.926368188, -0.15944818), (-3.325097919, -6.078134897), (3.601270269, -5.918686717), (6.926368188, 0.15944818), (3.325097919, 6.078134897), (-3.601270269, 5.918686717), align=None)
        Circle(SKETCH4_R, mode=Mode.SUBTRACT)
    extrude(amount=-CUT_EXTRUDE1_DEPTH, mode=Mode.SUBTRACT)

    # Sketch5 → Cut-Extrude2 (cut, through all)
    with BuildSketch(Plane(origin=(0, 0, 0), x_dir=(-1, 0, 0), z_dir=(0, 0, -1))):
        Circle(SKETCH5_R)
    extrude(amount=-CUT_EXTRUDE2_DEPTH, mode=Mode.SUBTRACT)


solid = part.part
